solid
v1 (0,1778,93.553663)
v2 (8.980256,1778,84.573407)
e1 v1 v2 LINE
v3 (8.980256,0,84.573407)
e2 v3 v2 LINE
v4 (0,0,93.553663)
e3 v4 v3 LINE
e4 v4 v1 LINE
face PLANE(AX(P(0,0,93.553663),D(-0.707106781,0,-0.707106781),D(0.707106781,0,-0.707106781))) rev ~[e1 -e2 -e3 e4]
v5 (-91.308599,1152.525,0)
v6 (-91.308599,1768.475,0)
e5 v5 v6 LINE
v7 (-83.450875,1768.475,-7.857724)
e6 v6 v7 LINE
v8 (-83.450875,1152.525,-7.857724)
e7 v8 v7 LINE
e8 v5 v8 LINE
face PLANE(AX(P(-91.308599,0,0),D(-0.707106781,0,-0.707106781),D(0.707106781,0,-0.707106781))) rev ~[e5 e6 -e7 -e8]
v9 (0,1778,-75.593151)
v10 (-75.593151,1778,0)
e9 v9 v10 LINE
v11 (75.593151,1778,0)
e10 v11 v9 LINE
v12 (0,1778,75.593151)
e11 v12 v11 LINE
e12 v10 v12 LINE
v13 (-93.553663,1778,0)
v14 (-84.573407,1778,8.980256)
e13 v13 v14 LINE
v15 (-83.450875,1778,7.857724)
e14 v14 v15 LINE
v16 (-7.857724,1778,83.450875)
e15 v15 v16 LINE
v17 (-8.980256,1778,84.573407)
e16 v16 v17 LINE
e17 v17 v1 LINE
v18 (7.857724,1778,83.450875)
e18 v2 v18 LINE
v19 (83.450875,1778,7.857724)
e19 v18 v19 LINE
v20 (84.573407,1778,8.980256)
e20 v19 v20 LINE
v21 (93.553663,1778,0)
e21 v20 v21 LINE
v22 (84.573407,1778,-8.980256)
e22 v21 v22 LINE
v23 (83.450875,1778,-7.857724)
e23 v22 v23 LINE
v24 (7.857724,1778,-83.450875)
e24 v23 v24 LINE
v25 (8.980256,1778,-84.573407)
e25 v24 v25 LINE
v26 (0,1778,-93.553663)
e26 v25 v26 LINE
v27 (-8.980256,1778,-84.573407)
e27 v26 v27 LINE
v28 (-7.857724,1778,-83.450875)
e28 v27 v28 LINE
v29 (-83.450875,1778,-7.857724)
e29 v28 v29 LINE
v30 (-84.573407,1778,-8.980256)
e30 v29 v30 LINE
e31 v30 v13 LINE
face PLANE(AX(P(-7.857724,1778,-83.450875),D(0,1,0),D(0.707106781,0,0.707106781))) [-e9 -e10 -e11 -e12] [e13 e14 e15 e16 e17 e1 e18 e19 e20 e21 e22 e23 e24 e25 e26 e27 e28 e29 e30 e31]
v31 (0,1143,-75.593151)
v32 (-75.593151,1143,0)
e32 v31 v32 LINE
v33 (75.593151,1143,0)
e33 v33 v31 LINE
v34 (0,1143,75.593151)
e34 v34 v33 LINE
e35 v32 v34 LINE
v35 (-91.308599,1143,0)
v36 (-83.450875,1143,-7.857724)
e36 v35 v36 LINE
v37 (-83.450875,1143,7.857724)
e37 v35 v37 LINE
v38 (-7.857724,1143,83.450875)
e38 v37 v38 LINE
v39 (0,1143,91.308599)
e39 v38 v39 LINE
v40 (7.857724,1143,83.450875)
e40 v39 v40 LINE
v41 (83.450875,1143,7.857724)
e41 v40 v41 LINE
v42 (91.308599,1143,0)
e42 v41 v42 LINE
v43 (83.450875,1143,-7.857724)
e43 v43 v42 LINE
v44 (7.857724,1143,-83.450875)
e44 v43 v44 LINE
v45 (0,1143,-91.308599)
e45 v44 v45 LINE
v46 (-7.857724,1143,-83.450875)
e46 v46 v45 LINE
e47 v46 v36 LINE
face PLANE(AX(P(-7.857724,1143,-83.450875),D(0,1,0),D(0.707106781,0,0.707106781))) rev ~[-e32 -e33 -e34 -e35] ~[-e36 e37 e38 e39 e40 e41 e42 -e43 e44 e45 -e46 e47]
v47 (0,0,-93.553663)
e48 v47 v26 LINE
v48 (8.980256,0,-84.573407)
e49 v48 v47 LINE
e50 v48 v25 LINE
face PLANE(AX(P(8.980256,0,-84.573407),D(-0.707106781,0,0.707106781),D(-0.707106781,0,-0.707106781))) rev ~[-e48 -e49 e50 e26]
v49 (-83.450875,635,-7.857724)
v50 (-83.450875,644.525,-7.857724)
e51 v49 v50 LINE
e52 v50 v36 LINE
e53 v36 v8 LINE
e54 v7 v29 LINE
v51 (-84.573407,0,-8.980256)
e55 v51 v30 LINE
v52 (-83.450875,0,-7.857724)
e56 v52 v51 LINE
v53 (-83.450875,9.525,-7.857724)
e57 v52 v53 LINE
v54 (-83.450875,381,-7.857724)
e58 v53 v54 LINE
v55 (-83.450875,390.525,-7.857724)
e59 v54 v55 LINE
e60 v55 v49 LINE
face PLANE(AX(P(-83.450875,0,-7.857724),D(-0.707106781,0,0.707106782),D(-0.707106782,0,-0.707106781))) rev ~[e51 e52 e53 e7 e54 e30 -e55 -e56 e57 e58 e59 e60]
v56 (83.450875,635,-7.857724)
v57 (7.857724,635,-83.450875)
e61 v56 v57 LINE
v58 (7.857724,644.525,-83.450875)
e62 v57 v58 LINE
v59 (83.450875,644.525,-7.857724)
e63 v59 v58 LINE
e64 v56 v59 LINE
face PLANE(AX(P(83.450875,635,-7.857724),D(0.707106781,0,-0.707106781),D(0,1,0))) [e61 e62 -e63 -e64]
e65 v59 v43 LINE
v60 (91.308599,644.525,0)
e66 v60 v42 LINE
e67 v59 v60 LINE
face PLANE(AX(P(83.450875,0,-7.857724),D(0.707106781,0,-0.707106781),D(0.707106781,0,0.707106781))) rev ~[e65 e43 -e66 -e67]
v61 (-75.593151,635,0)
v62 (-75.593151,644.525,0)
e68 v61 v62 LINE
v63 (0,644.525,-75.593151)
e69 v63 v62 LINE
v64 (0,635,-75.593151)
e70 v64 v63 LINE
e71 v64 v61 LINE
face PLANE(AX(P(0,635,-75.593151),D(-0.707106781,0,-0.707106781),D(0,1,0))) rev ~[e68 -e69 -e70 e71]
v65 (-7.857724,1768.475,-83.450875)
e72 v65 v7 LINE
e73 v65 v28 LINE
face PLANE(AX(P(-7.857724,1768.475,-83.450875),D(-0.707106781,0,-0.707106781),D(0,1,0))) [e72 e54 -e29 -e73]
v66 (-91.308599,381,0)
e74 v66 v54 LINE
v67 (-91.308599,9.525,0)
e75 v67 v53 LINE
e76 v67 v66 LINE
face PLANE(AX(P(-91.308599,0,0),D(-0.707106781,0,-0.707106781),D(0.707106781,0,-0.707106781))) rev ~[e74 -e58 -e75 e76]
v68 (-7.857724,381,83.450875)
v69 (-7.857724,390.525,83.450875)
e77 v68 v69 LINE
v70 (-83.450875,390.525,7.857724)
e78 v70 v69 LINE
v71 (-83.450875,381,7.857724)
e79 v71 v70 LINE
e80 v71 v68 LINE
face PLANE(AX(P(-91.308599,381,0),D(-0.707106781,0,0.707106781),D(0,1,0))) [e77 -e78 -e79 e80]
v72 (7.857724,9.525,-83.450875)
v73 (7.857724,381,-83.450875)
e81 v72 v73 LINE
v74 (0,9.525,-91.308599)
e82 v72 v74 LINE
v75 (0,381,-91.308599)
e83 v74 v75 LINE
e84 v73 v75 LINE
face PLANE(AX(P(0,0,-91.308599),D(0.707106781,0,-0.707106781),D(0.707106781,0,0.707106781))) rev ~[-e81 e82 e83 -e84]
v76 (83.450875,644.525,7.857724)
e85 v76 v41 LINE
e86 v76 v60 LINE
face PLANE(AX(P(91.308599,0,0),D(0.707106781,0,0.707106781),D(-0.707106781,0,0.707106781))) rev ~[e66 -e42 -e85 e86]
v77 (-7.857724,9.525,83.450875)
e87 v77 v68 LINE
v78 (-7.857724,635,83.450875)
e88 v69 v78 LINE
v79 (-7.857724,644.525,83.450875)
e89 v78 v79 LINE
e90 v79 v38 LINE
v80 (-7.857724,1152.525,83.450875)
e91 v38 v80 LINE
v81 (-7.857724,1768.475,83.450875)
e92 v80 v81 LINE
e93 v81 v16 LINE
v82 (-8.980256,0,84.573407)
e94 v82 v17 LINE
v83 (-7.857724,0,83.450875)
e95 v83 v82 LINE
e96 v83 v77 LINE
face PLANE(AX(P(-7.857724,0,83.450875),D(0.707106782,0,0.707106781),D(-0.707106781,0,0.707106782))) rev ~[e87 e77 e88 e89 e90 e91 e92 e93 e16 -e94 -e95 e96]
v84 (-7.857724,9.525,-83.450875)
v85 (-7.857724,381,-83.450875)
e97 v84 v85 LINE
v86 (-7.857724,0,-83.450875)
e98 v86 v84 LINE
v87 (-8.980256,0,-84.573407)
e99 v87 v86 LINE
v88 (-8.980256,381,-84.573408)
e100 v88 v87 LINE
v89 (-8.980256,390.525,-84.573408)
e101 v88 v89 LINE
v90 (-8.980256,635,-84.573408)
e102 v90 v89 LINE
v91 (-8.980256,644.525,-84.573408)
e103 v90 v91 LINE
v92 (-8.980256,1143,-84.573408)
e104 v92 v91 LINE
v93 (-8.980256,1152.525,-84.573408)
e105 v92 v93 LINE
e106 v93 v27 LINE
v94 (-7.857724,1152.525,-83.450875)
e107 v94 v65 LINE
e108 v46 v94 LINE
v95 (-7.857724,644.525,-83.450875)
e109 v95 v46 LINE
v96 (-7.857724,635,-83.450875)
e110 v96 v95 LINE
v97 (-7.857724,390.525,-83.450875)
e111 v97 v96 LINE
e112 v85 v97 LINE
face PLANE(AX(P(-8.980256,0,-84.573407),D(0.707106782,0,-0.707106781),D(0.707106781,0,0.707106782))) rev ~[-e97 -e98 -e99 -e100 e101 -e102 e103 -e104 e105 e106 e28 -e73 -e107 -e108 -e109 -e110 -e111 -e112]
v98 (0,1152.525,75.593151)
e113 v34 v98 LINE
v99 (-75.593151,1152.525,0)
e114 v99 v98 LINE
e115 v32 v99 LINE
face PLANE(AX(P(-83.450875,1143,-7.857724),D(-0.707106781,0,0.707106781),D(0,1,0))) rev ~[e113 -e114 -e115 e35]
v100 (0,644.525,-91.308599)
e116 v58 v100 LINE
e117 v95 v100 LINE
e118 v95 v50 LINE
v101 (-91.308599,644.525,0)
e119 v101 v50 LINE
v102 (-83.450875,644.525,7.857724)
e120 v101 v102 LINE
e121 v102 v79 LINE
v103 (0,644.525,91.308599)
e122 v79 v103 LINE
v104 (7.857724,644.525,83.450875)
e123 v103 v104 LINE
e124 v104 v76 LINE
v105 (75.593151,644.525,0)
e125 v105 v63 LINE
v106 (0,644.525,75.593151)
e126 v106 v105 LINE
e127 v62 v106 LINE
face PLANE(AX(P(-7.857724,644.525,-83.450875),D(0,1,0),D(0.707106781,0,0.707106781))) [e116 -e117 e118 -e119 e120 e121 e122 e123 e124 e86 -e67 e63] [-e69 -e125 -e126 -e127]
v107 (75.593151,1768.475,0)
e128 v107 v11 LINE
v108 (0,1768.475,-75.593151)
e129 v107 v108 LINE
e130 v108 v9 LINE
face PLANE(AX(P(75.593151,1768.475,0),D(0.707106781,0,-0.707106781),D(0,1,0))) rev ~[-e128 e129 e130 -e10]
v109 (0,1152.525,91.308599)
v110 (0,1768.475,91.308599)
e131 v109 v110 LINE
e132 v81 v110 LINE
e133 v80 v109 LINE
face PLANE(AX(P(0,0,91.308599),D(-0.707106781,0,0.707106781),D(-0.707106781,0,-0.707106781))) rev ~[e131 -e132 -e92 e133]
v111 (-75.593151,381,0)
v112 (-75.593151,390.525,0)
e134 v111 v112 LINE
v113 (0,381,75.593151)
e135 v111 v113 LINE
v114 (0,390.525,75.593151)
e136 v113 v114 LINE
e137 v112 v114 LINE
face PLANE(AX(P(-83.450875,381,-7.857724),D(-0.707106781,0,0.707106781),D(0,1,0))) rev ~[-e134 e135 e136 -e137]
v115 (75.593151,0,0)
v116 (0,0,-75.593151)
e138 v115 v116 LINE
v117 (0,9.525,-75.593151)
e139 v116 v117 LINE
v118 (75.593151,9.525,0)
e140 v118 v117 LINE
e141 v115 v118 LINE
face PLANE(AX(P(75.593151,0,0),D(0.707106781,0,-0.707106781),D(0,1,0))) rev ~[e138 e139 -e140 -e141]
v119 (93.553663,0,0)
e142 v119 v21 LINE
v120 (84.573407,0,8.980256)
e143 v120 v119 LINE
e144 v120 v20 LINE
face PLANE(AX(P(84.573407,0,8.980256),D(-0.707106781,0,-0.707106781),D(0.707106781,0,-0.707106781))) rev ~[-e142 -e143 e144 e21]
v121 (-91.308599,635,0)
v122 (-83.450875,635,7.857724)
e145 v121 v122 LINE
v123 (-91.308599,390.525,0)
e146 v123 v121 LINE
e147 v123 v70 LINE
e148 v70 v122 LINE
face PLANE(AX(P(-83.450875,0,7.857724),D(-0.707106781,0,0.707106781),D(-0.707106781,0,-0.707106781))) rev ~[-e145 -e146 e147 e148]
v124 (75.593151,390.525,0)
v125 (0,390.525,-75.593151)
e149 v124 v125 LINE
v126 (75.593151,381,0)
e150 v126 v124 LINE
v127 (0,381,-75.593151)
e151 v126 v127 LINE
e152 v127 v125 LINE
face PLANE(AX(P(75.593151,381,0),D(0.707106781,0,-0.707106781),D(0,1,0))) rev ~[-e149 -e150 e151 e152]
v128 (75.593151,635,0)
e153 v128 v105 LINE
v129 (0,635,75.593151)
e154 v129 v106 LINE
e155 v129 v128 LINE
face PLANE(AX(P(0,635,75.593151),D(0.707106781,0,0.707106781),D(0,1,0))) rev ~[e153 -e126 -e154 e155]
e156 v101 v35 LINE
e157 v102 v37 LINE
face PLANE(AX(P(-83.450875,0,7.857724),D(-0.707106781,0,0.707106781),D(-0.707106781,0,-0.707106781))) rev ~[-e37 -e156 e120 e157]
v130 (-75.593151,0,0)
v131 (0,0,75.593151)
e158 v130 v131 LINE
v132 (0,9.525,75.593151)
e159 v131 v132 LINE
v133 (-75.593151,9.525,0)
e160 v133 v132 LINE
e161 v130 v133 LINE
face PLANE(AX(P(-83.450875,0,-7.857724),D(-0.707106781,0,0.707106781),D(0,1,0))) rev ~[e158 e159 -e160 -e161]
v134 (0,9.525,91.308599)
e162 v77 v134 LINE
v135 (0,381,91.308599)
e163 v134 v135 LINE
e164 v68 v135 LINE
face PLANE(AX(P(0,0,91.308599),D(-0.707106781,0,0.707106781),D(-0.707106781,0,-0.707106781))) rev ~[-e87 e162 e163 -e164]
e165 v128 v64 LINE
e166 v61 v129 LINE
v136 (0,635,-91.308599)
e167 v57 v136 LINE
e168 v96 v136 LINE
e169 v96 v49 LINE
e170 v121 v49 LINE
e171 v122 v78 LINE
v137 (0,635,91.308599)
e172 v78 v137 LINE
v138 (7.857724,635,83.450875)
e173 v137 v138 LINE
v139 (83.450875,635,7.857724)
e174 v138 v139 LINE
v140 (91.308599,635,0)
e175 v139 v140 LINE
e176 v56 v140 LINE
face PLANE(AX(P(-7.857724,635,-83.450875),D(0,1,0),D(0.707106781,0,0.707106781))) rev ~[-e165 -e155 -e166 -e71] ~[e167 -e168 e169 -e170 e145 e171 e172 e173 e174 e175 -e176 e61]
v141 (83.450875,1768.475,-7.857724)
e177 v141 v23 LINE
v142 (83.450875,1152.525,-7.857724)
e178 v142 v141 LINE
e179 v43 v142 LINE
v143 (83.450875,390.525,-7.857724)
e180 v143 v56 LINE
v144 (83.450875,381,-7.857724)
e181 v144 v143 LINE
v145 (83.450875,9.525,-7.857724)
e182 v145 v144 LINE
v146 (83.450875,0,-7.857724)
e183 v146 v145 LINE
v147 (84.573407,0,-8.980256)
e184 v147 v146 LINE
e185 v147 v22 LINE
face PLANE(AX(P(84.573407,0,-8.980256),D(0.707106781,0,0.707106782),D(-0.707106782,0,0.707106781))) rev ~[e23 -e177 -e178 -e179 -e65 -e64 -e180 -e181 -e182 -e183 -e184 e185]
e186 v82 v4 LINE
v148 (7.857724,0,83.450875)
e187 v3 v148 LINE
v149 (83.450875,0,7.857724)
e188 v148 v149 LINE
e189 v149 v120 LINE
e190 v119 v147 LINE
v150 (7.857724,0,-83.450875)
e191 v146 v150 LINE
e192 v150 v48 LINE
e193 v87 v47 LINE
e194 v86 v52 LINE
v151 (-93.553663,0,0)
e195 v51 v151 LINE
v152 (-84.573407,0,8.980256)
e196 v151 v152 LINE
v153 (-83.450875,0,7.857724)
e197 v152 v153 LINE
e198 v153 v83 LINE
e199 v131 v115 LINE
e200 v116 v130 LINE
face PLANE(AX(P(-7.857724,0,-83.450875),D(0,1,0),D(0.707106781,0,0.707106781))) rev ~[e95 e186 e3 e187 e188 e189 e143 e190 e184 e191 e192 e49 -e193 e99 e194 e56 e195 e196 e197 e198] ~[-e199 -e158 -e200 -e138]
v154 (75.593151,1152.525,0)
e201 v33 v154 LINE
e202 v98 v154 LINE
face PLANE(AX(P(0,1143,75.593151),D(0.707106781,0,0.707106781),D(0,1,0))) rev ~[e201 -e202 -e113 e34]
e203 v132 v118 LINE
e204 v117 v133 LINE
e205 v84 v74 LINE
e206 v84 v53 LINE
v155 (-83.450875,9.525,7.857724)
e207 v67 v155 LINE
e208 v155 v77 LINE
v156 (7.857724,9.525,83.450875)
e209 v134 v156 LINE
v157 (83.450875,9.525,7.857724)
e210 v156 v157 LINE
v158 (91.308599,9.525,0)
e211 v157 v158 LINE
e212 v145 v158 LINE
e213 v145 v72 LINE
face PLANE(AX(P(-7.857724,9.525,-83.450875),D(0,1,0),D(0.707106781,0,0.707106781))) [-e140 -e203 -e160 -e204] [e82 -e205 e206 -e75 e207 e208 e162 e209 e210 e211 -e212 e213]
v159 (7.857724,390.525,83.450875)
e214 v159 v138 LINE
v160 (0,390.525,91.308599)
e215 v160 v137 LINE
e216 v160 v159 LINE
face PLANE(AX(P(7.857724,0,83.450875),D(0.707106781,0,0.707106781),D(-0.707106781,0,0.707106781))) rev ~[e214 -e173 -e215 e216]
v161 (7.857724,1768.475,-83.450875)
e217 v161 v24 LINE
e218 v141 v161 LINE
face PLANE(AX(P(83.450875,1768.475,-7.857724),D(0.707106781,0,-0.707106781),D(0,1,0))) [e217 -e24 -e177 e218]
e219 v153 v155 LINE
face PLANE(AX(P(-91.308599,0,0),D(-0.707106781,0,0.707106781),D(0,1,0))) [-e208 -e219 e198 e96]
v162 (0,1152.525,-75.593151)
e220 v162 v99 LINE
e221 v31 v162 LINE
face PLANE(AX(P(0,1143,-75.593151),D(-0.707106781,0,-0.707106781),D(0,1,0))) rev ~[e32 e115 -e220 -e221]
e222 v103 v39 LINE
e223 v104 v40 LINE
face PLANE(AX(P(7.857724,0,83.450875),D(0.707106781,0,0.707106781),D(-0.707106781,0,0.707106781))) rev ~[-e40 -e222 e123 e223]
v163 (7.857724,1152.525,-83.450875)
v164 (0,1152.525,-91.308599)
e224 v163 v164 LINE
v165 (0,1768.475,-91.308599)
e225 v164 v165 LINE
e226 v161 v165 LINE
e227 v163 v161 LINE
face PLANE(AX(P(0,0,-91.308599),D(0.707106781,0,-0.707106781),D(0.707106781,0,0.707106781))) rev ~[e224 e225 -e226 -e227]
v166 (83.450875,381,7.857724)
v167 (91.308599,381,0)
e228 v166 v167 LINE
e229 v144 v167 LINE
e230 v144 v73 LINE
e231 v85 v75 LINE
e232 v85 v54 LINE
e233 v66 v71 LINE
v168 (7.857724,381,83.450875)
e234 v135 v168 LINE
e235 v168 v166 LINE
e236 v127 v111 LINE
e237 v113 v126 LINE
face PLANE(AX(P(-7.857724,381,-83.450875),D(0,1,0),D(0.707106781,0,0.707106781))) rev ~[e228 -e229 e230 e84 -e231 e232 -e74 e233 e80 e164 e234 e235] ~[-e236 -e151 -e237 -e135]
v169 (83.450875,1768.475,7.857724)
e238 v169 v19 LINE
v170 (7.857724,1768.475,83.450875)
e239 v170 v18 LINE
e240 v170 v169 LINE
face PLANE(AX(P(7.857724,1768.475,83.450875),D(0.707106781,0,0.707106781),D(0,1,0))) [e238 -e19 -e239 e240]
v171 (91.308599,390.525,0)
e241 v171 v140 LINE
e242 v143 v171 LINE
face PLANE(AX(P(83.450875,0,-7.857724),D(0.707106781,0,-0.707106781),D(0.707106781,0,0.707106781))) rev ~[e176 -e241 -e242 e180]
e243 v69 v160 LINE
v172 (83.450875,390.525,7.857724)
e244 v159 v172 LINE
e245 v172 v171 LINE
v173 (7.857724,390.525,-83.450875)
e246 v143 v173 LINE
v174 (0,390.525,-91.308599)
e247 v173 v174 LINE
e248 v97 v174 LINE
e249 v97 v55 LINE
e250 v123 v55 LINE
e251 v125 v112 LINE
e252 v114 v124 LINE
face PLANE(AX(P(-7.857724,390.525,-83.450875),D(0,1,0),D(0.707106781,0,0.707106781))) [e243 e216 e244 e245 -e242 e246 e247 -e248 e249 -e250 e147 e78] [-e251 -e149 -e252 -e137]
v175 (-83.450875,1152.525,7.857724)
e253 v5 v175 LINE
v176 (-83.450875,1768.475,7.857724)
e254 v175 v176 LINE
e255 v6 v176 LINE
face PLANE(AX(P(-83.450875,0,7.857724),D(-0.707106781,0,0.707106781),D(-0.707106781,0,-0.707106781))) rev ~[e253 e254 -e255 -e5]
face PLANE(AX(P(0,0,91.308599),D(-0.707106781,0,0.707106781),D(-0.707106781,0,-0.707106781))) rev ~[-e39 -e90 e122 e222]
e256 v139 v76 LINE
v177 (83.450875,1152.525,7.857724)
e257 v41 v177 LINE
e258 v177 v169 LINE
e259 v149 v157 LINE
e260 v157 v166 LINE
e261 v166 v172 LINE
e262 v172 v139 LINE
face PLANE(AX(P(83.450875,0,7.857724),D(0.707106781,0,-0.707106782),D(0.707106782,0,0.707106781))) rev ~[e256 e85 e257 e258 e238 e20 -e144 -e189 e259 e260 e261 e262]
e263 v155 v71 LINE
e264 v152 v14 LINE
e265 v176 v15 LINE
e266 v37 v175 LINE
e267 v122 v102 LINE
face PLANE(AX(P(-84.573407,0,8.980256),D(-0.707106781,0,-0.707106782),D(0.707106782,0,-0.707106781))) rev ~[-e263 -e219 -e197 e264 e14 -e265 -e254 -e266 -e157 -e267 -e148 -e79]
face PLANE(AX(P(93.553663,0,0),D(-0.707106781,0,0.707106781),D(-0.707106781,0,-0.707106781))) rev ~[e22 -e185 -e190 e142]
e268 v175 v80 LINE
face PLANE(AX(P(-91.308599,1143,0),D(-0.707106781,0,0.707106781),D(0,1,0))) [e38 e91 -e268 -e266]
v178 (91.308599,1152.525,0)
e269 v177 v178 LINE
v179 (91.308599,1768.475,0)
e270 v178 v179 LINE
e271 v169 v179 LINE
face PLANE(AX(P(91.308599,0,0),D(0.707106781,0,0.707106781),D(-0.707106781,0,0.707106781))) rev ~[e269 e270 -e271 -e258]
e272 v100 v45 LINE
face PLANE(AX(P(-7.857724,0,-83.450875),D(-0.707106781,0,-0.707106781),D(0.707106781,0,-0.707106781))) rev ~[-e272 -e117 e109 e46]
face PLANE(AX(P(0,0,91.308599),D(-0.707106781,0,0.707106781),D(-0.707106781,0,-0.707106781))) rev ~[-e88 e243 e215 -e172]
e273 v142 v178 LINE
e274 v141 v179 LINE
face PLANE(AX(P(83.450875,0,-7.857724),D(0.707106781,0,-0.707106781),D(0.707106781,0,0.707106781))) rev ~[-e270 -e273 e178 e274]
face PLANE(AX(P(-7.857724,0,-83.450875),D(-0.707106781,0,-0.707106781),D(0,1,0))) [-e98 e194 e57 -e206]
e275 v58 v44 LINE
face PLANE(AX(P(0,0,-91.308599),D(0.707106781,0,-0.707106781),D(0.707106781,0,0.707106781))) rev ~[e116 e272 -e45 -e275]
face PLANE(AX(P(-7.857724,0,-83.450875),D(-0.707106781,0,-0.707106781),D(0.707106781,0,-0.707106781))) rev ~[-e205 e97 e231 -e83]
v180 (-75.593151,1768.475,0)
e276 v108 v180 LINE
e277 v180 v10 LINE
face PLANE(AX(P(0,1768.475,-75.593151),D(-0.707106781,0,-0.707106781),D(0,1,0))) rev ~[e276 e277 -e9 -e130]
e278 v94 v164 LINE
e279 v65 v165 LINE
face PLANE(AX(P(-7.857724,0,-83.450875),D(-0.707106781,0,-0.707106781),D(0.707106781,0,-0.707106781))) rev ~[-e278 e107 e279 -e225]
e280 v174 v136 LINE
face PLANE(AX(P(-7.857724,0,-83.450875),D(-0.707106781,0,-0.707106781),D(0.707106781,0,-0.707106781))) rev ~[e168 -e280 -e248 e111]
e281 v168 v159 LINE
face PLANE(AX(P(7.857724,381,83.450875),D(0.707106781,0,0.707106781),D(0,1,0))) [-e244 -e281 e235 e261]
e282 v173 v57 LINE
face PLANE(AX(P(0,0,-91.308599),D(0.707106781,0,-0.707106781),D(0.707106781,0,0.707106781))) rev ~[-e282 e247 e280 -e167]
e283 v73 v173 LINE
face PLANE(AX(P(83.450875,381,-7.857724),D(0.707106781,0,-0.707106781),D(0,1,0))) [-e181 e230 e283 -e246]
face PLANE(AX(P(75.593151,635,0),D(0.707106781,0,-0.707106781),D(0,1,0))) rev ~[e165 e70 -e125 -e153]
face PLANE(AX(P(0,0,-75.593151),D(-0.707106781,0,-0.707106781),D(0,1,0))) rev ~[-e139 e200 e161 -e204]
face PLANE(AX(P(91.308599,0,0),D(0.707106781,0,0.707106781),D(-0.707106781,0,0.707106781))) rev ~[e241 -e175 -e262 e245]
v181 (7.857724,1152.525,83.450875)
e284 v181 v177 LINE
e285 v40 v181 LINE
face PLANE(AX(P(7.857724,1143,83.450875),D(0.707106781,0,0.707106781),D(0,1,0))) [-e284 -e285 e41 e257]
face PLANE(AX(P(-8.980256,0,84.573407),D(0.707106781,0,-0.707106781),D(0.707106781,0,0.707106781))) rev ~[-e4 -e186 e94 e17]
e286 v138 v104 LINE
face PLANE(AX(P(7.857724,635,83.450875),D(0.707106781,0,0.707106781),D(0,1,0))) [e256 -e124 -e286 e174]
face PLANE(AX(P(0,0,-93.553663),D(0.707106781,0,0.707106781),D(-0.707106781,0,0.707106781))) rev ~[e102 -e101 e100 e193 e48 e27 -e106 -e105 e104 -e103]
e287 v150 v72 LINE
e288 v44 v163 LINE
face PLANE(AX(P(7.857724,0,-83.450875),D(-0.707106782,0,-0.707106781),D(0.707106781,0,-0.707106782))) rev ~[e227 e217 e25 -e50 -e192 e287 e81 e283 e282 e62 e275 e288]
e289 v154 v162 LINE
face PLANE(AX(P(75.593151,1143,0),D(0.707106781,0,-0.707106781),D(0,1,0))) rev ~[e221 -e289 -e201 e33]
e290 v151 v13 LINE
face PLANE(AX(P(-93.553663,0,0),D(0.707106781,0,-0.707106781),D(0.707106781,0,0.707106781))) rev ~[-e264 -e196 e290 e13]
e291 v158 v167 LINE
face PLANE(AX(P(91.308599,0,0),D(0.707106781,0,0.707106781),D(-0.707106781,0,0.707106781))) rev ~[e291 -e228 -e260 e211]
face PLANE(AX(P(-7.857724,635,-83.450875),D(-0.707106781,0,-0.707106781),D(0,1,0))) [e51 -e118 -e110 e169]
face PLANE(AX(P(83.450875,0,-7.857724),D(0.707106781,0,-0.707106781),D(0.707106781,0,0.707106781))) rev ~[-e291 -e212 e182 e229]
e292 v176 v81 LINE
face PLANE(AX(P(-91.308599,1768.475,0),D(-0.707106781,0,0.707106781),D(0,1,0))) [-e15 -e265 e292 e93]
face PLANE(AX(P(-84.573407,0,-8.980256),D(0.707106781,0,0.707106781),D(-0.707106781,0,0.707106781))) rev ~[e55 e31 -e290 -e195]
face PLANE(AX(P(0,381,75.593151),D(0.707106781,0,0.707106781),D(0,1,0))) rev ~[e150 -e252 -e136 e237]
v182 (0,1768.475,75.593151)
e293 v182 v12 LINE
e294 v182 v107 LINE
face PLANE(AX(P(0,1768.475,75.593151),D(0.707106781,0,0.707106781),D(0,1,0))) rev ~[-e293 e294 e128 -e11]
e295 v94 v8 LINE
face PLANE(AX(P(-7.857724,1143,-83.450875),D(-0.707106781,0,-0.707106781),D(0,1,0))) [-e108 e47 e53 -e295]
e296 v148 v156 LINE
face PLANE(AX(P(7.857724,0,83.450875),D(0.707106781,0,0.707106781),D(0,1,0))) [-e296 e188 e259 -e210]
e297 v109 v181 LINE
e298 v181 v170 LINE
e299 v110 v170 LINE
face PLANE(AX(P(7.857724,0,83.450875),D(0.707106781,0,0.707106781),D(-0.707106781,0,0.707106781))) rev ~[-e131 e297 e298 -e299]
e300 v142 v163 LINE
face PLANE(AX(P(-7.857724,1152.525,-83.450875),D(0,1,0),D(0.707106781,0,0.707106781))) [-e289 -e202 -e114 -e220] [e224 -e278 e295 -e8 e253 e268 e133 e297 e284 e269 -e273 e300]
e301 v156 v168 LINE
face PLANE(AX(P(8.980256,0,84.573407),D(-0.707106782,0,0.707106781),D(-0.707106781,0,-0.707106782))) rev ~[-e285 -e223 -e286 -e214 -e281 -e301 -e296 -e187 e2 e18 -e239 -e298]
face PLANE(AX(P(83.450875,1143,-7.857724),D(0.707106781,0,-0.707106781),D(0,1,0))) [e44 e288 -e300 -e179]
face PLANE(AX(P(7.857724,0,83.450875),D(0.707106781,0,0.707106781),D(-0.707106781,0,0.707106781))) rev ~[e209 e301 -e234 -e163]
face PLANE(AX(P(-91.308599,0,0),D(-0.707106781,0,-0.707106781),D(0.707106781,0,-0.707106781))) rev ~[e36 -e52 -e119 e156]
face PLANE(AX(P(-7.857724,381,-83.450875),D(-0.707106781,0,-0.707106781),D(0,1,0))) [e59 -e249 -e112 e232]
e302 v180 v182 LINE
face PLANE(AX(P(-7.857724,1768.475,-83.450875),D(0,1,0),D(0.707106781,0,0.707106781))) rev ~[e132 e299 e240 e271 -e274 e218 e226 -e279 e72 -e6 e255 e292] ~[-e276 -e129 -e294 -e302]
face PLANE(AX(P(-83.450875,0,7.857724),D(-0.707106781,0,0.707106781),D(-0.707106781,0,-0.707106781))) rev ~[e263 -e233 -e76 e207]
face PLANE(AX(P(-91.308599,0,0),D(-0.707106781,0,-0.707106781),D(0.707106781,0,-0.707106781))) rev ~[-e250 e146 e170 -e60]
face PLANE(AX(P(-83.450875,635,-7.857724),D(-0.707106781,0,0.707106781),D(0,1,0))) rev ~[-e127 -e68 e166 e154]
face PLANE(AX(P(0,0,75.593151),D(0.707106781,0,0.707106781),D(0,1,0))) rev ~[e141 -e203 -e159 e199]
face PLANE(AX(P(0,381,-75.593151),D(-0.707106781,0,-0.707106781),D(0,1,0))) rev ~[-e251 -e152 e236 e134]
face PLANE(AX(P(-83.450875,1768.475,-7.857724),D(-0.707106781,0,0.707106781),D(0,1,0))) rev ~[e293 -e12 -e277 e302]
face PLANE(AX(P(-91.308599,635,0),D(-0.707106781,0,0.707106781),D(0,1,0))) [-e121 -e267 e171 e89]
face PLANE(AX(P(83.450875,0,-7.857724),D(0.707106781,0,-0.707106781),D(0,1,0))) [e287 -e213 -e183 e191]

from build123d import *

# Parameters (mm, degrees)
BOSS_EXTRUDE6_DEPTH   = 1778
BOSS_EXTRUDE6_2_DEPTH = 1778
BOSS_EXTRUDE6_3_DEPTH = 1778
BOSS_EXTRUDE6_4_DEPTH = 1778
SKETCH11_W            = 11.1125
SKETCH11_H            = 9.525
BOSS_EXTRUDE11_DEPTH  = 129.12986
SKETCH13_W            = 11.1125
SKETCH13_H            = 9.525
BOSS_EXTRUDE13_DEPTH  = 118.01736
SKETCH14_W            = 11.1125
SKETCH14_H            = 9.525
BOSS_EXTRUDE14_DEPTH  = 119.60486
SKETCH15_W            = 11.1125
SKETCH15_H            = 9.525
BOSS_EXTRUDE15_DEPTH  = 106.90486
LPATTERN1_COUNT       = 2
LPATTERN1_PITCH       = 381
LPATTERN2_COUNT       = 2
LPATTERN2_PITCH       = 635
LPATTERN3_COUNT       = 2
LPATTERN3_PITCH       = 1143
LPATTERN4_COUNT       = 2
LPATTERN4_PITCH       = 1768.475


with BuildPart() as part:
    # Sketch2 → Boss-Extrude6 (new body)
    with BuildSketch(Plane(origin=(0, 0, 0), x_dir=(1, 0, 0), z_dir=(0, 1, 0))):
        Polygon((0, 93.553663338), (-8.980256121, 84.573407217), (-7.857724106, 83.450875201), (0, 91.308599307), (7.857724106, 83.450875201), (8.980256121, 84.573407217), align=None)
    extrude(amount=BOSS_EXTRUDE6_DEPTH)



with BuildPart() as body_2:
    # Sketch2 → Boss-Extrude6 2 (new body)
    with BuildSketch(Plane(origin=(0, 0, 0), x_dir=(1, 0, 0), z_dir=(0, 1, 0))):
        Polygon((93.553663338, 0), (84.573407217, 8.980256121), (83.450875201, 7.857724106), (91.308599307, 0), (83.450875201, -7.857724106), (84.573407217, -8.980256121), align=None)
    extrude(amount=BOSS_EXTRUDE6_2_DEPTH)



with BuildPart() as body_3:
    # Sketch2 → Boss-Extrude6 3 (new body)
    with BuildSketch(Plane(origin=(0, 0, 0), x_dir=(1, 0, 0), z_dir=(0, 1, 0))):
        Polygon((0, -93.553663338), (8.980256121, -84.573407217), (7.857724106, -83.450875201), (0, -91.308599307), (-7.857724106, -83.450875201), (-8.980256121, -84.573407217), align=None)
    extrude(amount=BOSS_EXTRUDE6_3_DEPTH)



with BuildPart() as body_4:
    # Sketch2 → Boss-Extrude6 4 (new body)
    with BuildSketch(Plane(origin=(0, 0, 0), x_dir=(1, 0, 0), z_dir=(0, 1, 0))):
        Polygon((-93.553663338, 0), (-84.573407217, -8.980256121), (-83.450875201, -7.857724106), (-91.308599307, 0), (-83.450875201, 7.857724106), (-84.573407217, 8.980256121), align=None)
    extrude(amount=BOSS_EXTRUDE6_4_DEPTH)


with BuildPart() as body_3_1:
    add(body_3.part)

    add(body_4.part)  # Boss-Extrude11 merges body 4
    # Sketch11 → Boss-Extrude11 (add)
    with BuildSketch(Plane(origin=(-45.654299654, 0, -45.654299654), x_dir=(0.707106781, 0, -0.707106781), z_dir=(0.707106781, 0, 0.707106781))):
        with Locations((-59.008679751, 4.7625)):
            Rectangle(SKETCH11_W, SKETCH11_H)
    boss_extrude11 = extrude(amount=BOSS_EXTRUDE11_DEPTH)


with BuildPart() as body_2_1:
    add(body_2.part)

    add(body_3_1.part)  # Boss-Extrude13 merges body 3
    # Sketch13 → Boss-Extrude13 (add)
    with BuildSketch(Plane(origin=(-37.796575548, 0, 37.796575548), x_dir=(-0.707106781, 0, -0.707106781), z_dir=(0.707106781, 0, -0.707106781))):
        with Locations((-59.008679751, 4.7625)):
            Rectangle(SKETCH13_W, SKETCH13_H)
    boss_extrude13 = extrude(amount=BOSS_EXTRUDE13_DEPTH)


with BuildPart() as part_1:
    add(part.part)

    add(body_2_1.part)  # Boss-Extrude14 merges body 2
    # Sketch14 → Boss-Extrude14 (add)
    with BuildSketch(Plane(origin=(37.796575548, 0, 37.796575548), x_dir=(-0.707106781, 0, 0.707106781), z_dir=(-0.707106781, 0, -0.707106781))):
        with Locations((-59.008679751, 4.7625)):
            Rectangle(SKETCH14_W, SKETCH14_H)
    boss_extrude14 = extrude(amount=BOSS_EXTRUDE14_DEPTH)

    # Sketch15 → Boss-Extrude15 (add)
    with BuildSketch(Plane(origin=(37.796575548, 0, -37.796575548), x_dir=(0.707106781, 0, 0.707106781), z_dir=(-0.707106781, 0, 0.707106781))):
        with Locations((-59.008679751, 4.7625)):
            Rectangle(SKETCH15_W, SKETCH15_H)
    boss_extrude15 = extrude(amount=BOSS_EXTRUDE15_DEPTH)

    # LPattern1: Boss-Extrude11, Boss-Extrude13, Boss-Extrude14, Boss-Extrude15 ×2
    with Locations(*[(0, i * LPATTERN1_PITCH, 0) for i in range(1, LPATTERN1_COUNT)]):
        add(boss_extrude11)
        add(boss_extrude13)
        add(boss_extrude14)
        add(boss_extrude15)

    # LPattern2: Boss-Extrude11, Boss-Extrude13, Boss-Extrude14, Boss-Extrude15 ×2
    with Locations(*[(0, i * LPATTERN2_PITCH, 0) for i in range(1, LPATTERN2_COUNT)]):
        add(boss_extrude11)
        add(boss_extrude13)
        add(boss_extrude14)
        add(boss_extrude15)

    # LPattern3: Boss-Extrude11, Boss-Extrude13, Boss-Extrude14, Boss-Extrude15 ×2
    with Locations(*[(0, i * LPATTERN3_PITCH, 0) for i in range(1, LPATTERN3_COUNT)]):
        add(boss_extrude11)
        add(boss_extrude13)
        add(boss_extrude14)
        add(boss_extrude15)

    # LPattern4: Boss-Extrude11, Boss-Extrude13, Boss-Extrude14, Boss-Extrude15 ×2
    with Locations(*[(0, i * LPATTERN4_PITCH, 0) for i in range(1, LPATTERN4_COUNT)]):
        add(boss_extrude11)
        add(boss_extrude13)
        add(boss_extrude14)
        add(boss_extrude15)


solid = part_1.part
